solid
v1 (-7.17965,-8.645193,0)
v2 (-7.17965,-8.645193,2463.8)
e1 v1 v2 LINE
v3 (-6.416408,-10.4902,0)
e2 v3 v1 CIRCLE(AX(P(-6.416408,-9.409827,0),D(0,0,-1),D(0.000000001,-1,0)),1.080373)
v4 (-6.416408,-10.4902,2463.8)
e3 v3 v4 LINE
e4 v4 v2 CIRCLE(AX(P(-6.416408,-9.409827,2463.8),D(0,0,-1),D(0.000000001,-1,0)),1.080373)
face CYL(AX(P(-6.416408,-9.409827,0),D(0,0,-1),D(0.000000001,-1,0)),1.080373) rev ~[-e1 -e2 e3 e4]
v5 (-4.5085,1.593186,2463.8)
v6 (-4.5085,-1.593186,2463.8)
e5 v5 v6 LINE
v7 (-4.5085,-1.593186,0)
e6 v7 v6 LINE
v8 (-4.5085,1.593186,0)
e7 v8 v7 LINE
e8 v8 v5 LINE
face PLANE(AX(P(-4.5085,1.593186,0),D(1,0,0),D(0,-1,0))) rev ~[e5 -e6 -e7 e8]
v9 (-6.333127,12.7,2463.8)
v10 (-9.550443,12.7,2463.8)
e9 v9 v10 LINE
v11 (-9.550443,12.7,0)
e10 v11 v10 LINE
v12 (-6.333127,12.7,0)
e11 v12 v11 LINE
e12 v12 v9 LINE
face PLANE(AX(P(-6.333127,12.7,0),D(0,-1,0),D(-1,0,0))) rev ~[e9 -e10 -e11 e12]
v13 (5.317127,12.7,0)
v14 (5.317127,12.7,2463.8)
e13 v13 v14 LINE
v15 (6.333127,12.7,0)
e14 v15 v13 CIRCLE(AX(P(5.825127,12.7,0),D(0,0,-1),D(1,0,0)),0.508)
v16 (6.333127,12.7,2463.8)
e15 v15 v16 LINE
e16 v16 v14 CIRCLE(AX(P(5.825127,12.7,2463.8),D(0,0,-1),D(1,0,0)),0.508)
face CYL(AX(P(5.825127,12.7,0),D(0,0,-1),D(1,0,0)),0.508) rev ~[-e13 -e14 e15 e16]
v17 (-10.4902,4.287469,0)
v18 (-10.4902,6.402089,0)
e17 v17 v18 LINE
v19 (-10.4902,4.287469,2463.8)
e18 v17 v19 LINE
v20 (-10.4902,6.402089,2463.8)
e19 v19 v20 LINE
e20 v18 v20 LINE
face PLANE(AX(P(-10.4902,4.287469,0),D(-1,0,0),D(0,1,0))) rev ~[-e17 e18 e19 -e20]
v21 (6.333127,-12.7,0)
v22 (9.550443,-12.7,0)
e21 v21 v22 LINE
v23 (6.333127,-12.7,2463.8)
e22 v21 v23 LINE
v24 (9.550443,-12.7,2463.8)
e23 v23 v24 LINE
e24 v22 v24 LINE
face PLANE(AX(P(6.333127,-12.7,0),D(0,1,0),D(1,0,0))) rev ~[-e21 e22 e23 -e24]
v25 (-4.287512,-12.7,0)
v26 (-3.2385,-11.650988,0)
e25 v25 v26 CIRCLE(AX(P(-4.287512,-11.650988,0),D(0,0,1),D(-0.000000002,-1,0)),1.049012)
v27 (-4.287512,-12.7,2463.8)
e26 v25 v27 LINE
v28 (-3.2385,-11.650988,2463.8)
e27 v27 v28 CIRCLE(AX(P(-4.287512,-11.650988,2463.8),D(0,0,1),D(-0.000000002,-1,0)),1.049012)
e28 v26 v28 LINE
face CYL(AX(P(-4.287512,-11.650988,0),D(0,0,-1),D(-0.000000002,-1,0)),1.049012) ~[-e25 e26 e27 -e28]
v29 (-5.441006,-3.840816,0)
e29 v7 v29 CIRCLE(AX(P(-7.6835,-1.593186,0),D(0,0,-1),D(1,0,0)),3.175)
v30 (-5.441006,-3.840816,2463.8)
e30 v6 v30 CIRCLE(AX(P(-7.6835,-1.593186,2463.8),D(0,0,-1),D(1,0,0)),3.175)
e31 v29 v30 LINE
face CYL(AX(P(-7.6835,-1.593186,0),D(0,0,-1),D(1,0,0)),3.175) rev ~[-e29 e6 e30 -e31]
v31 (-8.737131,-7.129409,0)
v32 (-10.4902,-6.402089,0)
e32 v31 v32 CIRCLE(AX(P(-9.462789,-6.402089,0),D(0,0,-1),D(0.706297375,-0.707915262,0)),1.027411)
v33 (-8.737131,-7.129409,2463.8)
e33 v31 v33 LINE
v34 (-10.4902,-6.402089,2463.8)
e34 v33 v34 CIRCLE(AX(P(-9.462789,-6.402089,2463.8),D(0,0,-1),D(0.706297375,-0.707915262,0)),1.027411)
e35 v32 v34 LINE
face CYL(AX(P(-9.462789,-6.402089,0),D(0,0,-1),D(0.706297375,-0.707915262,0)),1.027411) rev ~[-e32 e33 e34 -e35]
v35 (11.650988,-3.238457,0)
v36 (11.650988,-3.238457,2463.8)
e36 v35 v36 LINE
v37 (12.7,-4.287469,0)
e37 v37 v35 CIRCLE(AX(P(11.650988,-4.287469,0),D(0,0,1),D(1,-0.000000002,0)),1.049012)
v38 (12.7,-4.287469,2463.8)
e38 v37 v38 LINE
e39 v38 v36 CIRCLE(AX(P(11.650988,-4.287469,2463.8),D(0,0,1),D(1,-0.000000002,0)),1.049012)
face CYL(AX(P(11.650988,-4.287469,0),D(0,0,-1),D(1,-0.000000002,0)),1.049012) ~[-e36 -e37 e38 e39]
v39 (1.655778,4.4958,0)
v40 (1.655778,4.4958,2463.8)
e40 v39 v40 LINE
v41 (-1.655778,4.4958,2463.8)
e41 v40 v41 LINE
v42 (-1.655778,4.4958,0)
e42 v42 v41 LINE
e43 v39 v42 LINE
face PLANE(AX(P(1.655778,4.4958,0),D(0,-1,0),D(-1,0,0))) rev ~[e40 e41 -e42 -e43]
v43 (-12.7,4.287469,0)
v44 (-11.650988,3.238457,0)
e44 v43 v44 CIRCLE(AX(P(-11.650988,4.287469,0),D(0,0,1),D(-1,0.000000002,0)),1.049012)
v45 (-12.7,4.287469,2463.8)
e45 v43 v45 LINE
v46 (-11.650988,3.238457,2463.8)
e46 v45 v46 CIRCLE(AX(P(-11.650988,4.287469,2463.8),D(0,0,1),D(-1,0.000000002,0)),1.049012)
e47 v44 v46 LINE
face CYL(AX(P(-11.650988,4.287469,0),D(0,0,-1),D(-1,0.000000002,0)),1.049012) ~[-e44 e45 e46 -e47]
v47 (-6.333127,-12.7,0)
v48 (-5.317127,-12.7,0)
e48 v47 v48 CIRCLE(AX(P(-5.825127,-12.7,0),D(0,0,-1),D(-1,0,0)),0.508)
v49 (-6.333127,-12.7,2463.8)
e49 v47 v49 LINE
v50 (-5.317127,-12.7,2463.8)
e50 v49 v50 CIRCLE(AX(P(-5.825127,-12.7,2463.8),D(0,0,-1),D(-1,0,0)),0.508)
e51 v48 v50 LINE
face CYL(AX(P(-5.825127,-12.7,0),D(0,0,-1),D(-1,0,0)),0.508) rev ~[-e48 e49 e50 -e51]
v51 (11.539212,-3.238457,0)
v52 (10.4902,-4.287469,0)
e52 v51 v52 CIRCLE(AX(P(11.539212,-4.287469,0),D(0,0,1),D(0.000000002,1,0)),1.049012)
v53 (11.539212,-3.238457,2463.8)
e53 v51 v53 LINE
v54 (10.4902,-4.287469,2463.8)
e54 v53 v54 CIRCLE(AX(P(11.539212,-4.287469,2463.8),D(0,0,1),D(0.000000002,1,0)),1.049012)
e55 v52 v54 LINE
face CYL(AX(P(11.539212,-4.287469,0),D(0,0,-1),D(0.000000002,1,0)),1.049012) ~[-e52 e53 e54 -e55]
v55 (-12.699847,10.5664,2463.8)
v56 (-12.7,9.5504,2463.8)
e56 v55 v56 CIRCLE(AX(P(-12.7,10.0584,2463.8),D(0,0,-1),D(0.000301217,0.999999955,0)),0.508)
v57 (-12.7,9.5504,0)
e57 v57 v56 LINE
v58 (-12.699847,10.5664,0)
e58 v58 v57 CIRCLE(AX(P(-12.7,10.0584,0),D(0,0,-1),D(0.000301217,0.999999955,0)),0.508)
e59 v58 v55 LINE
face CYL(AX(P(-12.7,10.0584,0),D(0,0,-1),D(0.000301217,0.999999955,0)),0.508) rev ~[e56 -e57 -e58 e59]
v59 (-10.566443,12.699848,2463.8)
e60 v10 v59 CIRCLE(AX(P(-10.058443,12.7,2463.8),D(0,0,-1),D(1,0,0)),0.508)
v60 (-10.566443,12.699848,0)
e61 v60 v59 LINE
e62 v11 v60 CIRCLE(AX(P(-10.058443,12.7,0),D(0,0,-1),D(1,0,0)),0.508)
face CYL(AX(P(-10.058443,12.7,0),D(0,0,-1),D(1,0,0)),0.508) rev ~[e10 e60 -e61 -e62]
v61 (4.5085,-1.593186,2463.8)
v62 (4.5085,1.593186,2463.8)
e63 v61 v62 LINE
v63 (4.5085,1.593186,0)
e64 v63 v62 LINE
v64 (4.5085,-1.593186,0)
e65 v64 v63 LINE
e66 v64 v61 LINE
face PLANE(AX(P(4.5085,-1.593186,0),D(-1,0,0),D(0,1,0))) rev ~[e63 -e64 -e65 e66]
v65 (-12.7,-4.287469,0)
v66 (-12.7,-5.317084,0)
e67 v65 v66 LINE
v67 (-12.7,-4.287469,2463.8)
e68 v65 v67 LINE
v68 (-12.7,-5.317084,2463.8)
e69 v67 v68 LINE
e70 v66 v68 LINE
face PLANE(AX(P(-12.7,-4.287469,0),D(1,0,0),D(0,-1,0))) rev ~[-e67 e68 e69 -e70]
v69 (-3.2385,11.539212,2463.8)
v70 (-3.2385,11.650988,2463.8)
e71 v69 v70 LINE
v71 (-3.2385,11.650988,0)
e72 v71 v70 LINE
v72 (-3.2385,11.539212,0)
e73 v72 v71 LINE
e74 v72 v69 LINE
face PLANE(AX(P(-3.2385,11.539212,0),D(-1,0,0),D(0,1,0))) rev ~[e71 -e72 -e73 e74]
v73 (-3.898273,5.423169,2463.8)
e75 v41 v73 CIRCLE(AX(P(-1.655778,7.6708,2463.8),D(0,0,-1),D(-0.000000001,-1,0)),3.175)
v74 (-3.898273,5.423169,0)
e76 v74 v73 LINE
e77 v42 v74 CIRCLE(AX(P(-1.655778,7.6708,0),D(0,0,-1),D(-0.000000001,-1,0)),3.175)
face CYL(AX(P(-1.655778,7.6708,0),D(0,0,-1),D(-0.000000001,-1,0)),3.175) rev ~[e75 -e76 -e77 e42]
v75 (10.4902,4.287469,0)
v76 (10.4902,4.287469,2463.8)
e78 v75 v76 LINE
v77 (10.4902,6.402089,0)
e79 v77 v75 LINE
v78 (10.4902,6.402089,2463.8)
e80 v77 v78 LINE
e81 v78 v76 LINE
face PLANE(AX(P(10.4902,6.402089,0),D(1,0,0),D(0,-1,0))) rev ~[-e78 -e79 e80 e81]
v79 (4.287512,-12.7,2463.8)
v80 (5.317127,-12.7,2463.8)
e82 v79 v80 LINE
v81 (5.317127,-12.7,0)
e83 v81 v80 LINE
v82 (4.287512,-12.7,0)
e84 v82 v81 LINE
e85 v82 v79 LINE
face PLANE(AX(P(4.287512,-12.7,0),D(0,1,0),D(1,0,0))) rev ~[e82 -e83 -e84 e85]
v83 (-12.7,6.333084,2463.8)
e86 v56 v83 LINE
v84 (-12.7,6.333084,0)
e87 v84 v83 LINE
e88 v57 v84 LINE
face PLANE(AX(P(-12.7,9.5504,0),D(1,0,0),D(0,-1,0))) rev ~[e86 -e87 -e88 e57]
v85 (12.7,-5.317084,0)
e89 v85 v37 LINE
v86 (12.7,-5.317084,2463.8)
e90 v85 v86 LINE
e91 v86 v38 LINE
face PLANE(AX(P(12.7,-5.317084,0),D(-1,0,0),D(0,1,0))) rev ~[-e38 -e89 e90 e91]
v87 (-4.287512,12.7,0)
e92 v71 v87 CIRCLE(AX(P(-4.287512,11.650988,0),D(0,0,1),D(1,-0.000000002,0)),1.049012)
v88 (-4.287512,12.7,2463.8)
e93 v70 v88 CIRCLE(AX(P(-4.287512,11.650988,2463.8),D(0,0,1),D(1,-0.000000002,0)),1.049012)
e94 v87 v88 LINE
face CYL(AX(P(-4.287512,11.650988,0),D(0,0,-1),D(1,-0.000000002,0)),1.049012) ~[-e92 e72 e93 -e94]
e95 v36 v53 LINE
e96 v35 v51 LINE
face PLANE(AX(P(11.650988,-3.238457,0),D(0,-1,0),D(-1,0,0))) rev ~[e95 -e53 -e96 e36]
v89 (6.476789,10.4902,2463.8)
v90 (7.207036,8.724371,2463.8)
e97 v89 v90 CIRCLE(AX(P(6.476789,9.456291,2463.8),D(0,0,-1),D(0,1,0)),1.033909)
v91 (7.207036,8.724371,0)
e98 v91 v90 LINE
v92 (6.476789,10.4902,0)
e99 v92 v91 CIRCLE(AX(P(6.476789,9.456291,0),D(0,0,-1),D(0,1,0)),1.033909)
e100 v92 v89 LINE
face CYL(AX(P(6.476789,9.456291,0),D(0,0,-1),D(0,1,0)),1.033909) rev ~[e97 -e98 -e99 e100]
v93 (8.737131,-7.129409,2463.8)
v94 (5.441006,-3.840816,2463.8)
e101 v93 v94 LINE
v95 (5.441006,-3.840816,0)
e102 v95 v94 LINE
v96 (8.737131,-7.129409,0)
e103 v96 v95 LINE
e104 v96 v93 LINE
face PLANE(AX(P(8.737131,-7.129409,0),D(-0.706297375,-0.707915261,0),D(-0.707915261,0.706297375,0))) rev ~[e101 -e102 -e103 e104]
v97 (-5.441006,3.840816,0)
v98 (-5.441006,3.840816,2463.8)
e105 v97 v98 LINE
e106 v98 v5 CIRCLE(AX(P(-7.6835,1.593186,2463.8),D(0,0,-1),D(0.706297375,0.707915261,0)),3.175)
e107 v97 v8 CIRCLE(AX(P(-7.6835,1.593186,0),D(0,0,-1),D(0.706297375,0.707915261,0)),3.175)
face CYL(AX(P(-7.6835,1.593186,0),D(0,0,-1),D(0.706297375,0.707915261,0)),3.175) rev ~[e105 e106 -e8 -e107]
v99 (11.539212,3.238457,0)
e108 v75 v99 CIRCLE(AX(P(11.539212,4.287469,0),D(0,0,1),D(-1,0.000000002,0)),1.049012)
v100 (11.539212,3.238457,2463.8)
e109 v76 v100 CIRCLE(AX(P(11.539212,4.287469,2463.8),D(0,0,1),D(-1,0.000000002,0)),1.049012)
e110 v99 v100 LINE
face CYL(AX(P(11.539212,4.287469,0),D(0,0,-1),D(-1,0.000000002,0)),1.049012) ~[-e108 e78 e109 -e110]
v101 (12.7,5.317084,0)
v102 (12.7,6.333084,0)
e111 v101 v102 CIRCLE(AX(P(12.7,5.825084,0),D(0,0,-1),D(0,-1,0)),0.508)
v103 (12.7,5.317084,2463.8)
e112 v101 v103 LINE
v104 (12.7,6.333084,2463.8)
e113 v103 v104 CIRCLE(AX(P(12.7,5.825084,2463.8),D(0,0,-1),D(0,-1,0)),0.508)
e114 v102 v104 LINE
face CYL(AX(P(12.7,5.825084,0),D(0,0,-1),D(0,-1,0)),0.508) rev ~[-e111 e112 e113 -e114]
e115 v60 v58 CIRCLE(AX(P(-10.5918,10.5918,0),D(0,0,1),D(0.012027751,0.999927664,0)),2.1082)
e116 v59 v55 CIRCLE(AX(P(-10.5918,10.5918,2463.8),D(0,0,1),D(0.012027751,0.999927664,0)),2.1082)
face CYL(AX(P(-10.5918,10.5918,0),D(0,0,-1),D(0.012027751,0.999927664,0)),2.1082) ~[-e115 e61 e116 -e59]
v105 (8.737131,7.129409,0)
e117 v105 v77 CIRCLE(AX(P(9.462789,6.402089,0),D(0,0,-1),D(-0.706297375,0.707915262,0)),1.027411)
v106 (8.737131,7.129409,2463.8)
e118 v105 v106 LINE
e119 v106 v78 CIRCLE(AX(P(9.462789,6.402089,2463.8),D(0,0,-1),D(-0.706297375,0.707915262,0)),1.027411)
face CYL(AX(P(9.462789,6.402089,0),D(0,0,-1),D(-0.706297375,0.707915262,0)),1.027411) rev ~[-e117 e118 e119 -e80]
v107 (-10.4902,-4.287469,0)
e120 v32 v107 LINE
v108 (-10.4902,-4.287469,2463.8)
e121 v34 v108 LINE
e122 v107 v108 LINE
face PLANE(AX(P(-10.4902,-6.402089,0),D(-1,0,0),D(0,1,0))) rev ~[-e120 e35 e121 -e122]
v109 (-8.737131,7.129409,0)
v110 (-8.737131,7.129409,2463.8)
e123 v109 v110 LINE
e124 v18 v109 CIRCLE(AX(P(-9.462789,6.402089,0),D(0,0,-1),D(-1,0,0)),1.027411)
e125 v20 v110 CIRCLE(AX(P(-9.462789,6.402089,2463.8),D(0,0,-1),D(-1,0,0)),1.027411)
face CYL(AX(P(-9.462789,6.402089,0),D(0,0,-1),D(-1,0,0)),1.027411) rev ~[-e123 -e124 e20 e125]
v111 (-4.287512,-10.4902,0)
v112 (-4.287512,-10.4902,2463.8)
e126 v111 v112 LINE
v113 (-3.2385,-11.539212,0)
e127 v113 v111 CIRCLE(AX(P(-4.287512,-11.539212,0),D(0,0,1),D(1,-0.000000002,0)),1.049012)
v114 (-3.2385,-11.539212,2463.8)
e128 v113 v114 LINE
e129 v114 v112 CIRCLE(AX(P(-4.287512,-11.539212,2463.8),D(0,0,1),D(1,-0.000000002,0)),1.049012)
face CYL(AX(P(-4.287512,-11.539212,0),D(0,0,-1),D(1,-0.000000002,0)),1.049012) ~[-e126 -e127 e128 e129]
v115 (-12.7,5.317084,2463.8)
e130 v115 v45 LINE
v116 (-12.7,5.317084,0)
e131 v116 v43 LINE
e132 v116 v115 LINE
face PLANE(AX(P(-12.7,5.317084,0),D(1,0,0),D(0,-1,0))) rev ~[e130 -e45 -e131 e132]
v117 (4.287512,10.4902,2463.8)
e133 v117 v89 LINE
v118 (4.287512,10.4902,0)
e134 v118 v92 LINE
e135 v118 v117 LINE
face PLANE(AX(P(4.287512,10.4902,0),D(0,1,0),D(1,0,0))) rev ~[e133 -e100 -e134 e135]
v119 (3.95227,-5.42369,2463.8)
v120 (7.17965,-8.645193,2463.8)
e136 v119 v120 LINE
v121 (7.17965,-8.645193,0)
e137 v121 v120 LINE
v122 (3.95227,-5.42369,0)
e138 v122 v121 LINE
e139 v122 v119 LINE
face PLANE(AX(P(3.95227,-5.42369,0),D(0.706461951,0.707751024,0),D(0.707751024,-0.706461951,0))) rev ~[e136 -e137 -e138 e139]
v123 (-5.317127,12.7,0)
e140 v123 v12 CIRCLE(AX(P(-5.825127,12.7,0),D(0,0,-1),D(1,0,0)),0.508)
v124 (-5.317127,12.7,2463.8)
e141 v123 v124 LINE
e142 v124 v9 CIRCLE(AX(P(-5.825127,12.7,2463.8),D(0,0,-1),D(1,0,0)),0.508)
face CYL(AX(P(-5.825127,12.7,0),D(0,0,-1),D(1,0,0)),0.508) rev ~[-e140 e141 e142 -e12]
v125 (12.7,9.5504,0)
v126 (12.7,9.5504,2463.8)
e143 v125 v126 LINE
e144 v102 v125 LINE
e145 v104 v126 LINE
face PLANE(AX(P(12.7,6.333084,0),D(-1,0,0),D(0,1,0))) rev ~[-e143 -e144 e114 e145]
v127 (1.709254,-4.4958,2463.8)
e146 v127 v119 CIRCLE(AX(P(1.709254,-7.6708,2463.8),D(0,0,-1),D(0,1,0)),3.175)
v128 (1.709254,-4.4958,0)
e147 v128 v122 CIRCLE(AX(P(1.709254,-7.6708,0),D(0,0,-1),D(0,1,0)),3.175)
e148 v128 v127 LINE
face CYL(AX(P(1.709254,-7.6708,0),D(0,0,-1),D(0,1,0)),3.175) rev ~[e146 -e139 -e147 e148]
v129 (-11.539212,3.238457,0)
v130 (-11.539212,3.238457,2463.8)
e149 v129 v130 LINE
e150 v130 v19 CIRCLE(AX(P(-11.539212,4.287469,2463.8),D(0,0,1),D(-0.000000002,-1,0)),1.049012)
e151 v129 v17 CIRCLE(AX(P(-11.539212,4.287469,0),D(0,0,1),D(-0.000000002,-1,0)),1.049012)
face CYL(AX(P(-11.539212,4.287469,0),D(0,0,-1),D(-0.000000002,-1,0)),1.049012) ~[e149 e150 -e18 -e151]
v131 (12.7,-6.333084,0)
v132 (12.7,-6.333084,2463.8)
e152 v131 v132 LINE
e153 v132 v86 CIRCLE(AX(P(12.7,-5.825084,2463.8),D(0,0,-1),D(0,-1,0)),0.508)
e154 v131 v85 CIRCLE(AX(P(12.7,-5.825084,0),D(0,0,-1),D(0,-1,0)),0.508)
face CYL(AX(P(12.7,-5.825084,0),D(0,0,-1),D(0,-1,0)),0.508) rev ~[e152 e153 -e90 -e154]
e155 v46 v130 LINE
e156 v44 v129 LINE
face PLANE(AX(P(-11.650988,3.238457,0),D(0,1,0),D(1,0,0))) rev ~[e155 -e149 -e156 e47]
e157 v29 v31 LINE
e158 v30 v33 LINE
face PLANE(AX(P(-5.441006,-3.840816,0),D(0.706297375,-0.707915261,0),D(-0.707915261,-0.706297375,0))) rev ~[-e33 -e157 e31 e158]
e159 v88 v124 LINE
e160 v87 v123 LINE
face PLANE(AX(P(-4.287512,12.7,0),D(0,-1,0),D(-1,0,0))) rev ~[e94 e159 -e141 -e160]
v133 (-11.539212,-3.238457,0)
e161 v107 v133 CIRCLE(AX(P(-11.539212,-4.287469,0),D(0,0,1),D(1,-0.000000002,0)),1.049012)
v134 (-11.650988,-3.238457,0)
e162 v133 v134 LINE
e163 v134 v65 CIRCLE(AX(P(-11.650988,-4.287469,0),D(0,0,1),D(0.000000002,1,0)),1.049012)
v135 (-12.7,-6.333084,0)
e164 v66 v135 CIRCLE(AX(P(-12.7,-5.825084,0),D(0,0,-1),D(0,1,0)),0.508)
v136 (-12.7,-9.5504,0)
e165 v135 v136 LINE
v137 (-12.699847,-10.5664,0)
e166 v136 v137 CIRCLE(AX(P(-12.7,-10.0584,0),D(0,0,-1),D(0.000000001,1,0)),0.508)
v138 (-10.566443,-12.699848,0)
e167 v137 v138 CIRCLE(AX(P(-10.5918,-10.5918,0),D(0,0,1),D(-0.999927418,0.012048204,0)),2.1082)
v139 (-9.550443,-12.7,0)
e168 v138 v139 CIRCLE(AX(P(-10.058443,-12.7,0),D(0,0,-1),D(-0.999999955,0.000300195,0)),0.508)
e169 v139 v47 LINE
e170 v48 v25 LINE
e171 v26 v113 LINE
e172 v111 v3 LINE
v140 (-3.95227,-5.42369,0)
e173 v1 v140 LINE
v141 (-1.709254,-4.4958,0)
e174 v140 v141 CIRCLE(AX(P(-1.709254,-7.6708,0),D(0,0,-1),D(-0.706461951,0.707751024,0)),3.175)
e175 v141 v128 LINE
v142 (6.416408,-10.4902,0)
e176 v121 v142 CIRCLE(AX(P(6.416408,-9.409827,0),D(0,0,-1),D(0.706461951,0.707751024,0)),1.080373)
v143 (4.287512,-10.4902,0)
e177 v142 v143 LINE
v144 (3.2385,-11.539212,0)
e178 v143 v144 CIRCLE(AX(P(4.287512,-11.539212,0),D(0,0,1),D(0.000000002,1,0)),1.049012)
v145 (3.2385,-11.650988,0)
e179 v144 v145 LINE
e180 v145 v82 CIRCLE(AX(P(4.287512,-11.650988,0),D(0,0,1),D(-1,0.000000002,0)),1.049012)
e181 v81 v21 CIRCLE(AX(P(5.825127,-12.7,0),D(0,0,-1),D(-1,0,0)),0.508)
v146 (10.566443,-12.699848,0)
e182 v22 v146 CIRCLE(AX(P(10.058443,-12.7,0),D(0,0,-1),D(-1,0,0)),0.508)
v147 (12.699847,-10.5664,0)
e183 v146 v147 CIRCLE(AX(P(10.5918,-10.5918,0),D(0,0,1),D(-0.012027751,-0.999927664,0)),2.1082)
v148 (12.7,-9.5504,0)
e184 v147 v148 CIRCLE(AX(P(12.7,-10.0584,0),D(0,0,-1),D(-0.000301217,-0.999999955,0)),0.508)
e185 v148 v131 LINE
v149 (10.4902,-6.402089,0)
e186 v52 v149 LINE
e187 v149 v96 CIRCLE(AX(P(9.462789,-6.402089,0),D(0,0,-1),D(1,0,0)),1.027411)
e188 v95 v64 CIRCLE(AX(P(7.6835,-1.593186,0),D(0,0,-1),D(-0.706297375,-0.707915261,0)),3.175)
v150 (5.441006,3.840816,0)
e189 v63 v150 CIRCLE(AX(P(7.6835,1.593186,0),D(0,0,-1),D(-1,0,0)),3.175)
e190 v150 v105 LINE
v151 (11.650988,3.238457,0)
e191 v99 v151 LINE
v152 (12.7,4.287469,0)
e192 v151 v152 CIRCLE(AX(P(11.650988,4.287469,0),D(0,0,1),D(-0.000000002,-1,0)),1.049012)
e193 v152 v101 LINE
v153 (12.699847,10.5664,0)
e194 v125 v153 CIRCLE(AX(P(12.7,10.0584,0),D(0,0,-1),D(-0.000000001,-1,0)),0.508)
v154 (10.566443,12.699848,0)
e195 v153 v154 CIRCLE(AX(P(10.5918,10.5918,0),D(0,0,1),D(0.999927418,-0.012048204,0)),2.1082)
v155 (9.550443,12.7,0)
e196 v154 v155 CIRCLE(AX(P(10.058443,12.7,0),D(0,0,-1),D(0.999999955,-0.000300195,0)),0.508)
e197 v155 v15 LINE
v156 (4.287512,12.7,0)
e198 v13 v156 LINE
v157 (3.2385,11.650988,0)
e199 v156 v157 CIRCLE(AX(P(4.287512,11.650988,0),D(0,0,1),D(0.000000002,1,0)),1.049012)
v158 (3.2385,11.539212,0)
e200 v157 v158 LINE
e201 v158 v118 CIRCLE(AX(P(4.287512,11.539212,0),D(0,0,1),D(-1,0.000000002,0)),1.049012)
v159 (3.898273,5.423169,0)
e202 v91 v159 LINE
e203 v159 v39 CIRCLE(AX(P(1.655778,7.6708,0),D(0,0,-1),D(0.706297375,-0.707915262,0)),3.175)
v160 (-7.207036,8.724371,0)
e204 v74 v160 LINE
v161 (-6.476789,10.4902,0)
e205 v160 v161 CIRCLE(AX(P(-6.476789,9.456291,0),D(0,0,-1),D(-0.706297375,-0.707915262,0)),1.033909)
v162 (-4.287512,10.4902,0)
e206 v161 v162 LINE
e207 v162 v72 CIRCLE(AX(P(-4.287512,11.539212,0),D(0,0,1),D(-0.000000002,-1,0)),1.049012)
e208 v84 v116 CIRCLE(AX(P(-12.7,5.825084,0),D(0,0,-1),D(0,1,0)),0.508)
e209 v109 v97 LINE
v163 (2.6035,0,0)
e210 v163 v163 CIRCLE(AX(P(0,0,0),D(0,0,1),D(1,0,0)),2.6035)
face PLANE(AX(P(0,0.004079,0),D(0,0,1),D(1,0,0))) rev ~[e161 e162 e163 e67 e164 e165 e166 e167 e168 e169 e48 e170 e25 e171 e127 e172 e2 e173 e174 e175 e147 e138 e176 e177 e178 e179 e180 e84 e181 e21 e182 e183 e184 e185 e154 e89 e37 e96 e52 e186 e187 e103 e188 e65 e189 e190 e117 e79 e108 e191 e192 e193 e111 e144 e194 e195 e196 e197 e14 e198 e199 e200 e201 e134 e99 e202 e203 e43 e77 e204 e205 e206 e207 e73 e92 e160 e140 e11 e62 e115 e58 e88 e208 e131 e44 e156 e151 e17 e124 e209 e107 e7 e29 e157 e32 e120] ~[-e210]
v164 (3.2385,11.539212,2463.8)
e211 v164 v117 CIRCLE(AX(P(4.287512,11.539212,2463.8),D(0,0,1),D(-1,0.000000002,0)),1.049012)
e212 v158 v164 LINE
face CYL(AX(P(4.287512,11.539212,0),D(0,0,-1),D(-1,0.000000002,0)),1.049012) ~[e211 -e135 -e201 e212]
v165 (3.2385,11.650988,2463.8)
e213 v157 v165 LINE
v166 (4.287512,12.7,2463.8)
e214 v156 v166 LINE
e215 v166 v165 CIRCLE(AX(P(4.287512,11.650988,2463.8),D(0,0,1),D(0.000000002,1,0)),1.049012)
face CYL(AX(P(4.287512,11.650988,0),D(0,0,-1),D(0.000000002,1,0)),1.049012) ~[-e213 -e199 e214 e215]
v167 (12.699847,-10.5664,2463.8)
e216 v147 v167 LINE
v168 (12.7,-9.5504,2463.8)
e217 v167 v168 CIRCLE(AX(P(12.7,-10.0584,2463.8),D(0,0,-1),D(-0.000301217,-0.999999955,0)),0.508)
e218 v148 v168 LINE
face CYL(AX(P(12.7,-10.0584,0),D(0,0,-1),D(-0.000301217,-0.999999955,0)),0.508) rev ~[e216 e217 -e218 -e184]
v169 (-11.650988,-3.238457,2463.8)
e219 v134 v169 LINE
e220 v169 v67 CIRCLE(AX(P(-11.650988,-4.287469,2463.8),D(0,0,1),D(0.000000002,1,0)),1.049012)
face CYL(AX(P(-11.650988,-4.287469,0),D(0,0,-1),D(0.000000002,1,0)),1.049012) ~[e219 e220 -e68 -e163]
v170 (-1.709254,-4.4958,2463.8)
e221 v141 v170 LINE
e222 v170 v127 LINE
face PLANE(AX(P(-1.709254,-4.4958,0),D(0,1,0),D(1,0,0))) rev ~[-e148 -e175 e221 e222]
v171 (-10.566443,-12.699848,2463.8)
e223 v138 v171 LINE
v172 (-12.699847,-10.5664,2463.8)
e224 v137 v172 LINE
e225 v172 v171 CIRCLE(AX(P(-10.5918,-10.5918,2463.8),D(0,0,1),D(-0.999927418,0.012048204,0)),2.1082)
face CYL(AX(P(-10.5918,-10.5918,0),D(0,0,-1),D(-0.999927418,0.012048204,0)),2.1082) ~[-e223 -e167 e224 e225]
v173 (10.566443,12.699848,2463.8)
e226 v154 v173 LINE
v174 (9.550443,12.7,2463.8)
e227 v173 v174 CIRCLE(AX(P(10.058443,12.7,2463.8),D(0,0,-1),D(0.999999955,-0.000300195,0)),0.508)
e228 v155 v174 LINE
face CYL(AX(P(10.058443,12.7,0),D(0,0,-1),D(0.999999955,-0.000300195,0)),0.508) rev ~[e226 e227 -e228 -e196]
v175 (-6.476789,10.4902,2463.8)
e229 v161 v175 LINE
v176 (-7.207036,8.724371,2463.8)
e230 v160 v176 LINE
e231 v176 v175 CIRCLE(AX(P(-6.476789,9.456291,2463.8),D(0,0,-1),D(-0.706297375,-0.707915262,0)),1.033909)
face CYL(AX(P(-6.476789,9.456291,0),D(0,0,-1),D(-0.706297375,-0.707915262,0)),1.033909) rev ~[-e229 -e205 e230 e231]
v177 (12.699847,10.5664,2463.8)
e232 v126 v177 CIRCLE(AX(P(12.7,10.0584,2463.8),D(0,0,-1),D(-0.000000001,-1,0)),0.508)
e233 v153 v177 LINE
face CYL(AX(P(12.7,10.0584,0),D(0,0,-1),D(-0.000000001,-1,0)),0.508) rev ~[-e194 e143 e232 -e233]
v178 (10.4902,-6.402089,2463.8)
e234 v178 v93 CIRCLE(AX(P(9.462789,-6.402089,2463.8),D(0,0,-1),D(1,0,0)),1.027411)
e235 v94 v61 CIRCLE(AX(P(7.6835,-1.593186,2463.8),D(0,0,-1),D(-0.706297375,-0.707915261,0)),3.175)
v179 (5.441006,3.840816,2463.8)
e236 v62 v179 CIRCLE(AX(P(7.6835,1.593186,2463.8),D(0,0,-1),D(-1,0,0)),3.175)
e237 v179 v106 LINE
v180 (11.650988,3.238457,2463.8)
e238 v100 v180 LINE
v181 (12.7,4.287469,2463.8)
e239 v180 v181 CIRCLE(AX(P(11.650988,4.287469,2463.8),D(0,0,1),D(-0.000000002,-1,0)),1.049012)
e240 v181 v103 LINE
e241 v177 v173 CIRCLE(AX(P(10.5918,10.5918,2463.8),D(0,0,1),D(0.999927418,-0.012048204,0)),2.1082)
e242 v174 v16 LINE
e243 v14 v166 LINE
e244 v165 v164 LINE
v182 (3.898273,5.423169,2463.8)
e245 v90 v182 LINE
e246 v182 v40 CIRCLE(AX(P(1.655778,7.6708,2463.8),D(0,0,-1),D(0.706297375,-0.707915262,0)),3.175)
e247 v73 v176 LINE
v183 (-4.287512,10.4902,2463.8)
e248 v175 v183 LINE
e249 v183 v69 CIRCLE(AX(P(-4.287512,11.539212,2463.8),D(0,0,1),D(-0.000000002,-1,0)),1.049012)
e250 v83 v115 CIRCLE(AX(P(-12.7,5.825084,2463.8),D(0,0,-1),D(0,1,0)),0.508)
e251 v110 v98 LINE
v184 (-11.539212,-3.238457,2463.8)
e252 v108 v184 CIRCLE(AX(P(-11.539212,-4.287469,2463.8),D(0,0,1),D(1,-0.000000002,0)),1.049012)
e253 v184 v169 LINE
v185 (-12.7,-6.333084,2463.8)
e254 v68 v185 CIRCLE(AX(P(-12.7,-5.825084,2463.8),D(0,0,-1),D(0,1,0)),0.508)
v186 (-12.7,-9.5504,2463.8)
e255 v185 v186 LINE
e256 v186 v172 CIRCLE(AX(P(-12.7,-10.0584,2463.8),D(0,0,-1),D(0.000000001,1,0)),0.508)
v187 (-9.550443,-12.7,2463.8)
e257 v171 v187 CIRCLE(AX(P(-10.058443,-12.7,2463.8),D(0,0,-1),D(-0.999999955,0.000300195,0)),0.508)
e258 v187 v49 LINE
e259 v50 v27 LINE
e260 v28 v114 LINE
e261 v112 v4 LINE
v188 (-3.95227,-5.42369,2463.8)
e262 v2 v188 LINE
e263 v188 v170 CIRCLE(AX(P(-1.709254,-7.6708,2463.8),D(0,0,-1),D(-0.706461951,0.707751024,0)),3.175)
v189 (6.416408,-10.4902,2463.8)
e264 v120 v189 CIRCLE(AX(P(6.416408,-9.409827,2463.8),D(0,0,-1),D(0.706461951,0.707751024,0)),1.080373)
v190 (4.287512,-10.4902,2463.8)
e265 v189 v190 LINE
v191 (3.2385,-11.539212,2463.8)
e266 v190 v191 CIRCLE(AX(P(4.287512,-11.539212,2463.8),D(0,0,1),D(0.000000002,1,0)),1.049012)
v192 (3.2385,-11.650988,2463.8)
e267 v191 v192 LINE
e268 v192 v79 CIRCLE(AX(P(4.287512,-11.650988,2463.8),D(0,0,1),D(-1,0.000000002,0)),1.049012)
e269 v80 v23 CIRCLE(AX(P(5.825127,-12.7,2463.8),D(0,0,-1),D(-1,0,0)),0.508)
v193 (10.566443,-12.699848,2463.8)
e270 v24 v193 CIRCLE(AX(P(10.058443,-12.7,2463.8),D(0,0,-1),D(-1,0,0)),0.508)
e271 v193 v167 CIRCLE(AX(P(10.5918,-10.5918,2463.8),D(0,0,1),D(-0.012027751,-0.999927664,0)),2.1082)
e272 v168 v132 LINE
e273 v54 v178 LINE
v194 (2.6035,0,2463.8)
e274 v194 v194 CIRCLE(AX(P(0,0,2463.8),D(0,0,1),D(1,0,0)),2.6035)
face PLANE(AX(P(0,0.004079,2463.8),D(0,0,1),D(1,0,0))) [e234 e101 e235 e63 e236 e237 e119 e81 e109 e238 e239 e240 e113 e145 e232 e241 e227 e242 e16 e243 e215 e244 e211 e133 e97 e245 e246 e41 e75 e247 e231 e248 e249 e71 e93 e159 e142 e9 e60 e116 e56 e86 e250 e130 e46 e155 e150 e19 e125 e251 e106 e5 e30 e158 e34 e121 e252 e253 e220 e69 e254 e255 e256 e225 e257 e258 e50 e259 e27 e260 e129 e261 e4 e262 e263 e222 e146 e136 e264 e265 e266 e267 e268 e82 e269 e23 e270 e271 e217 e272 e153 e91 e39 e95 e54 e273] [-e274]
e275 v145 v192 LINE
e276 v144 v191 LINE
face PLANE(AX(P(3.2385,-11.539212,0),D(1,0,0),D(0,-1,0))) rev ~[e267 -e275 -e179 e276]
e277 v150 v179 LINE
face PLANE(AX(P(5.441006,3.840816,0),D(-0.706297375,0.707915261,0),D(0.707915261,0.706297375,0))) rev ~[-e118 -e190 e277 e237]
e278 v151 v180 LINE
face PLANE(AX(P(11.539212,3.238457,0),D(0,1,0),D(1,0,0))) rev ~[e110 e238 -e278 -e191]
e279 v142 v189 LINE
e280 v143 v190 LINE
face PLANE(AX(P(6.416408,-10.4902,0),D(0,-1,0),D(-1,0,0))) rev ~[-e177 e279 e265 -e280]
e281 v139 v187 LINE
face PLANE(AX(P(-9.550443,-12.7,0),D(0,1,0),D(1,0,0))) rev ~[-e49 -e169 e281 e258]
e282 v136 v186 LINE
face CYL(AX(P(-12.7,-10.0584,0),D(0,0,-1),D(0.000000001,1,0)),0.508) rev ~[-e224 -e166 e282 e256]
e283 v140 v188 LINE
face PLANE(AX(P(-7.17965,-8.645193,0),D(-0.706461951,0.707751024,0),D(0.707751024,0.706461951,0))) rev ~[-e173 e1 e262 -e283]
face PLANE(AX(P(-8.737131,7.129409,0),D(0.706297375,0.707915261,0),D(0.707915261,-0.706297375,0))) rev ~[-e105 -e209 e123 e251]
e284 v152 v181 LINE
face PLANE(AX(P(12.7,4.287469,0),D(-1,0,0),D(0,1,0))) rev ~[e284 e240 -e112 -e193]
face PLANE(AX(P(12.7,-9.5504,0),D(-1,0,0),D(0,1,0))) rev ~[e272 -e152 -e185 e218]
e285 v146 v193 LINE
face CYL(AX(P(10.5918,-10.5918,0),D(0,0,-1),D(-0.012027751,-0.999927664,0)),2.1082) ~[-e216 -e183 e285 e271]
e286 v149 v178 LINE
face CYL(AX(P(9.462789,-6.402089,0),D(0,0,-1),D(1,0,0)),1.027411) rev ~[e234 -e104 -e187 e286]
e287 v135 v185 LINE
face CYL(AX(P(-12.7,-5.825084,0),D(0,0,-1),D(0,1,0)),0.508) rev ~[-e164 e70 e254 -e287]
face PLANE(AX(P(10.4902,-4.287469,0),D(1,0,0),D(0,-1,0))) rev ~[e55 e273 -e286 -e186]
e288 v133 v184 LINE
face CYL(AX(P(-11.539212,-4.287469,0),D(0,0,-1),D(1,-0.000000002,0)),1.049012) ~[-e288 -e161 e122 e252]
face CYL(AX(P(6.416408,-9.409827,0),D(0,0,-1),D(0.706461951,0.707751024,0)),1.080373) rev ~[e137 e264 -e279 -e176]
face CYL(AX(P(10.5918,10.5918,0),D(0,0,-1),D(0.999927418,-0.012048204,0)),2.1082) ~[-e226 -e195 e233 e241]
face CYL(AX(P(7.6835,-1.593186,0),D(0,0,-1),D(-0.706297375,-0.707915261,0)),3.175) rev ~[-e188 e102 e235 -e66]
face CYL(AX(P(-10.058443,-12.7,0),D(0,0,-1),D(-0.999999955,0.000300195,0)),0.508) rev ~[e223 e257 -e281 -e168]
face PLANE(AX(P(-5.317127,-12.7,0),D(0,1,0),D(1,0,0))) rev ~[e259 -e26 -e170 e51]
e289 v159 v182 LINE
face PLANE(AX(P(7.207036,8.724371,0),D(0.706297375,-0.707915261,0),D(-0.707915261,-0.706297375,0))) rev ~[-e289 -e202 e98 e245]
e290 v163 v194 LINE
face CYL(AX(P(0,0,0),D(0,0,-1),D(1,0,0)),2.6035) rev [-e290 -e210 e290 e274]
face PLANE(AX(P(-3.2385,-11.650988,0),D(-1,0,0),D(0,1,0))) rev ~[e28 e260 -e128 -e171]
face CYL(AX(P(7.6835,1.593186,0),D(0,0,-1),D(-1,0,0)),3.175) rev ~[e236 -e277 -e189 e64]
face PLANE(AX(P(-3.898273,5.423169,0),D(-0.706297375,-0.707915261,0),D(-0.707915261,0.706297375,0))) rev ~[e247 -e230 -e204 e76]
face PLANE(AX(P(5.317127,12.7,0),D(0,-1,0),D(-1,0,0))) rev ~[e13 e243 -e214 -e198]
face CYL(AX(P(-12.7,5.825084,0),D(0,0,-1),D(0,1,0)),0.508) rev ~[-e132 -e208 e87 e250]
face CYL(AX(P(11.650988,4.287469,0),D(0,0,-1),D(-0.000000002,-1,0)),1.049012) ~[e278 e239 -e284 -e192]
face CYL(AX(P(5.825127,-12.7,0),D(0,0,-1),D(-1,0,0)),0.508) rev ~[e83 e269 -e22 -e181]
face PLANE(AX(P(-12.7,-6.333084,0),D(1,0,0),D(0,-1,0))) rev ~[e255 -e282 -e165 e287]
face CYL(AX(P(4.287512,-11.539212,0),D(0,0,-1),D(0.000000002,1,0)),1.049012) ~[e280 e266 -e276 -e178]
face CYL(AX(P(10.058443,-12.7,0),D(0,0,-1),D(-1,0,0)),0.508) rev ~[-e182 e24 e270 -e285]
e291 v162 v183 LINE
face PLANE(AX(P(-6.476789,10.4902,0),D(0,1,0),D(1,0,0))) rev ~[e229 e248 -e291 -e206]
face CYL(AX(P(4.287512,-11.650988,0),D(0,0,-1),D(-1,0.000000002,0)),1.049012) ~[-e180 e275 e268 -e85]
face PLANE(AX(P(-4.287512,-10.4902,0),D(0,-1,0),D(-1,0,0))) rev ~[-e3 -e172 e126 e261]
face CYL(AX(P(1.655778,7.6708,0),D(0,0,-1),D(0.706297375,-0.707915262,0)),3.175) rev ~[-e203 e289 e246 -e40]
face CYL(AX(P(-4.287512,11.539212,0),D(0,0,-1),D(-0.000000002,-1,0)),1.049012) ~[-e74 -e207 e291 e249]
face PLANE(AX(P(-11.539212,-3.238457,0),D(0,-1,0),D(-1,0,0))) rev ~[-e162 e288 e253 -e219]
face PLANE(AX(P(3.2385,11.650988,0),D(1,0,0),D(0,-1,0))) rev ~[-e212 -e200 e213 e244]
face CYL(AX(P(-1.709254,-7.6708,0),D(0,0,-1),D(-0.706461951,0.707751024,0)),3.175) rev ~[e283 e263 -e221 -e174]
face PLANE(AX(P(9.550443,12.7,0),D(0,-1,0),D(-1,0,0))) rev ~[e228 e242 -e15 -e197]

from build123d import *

# Parameters (mm, degrees)
SKETCH1_R           = 2.6035
BOSS_EXTRUDE1_DEPTH = 2463.8


with BuildPart() as part:
    # Sketch1 → Boss-Extrude1 (new body)
    with BuildSketch(Plane.XY):
        with BuildLine():
            Line((-1.709253557, -4.4958), (1.709253557, -4.4958))
            ThreePointArc((1.709253557, -4.4958), (2.922936451, -4.736929036), (3.952270251, -5.423690499))
            Line((3.952270251, -5.423690499), (7.179650497, -8.645192506))
            ThreePointArc((7.179650497, -8.645192506), (7.41473083, -9.822813117), (6.416408329, -10.4902))
            Line((6.416408329, -10.4902), (4.287512407, -10.4902))
            ThreePointArc((4.287512407, -10.4902), (3.54574862, -10.79744862), (3.2385, -11.539212407))
            Line((3.2385, -11.539212407), (3.2385, -11.650987593))
            ThreePointArc((3.2385, -11.650987593), (3.54574862, -12.39275138), (4.287512407, -12.7))
            Line((4.287512407, -12.7), (5.317126718, -12.7))
            ThreePointArc((5.317126718, -12.7), (5.825126718, -12.192), (6.333126718, -12.7))
            Line((6.333126718, -12.7), (9.550443118, -12.7))
            ThreePointArc((9.550443118, -12.7), (10.058366869, -12.192000006), (10.566443095, -12.699847501))
            ThreePointArc((10.566443095, -12.699847501), (12.082537762, -12.08250727), (12.699846982, -10.566399977))
            ThreePointArc((12.699846982, -10.566399977), (12.192000006, -10.058323491), (12.7, -9.5504))
            Line((12.7, -9.5504), (12.7, -6.3330836))
            ThreePointArc((12.7, -6.3330836), (12.192, -5.8250836), (12.7, -5.3170836))
            Line((12.7, -5.3170836), (12.7, -4.287469289))
            ThreePointArc((12.7, -4.287469289), (12.39275138, -3.545705502), (11.650987593, -3.238456882))
            Line((11.650987593, -3.238456882), (11.539212407, -3.238456882))
            ThreePointArc((11.539212407, -3.238456882), (10.79744862, -3.545705502), (10.4902, -4.287469289))
            Line((10.4902, -4.287469289), (10.4902, -6.402089023))
            ThreePointArc((10.4902, -6.402089023), (9.856505071, -7.351067942), (8.737131347, -7.129408934))
            Line((8.737131347, -7.129408934), (5.441005833, -3.840816462))
            ThreePointArc((5.441005833, -3.840816462), (4.750877967, -2.809883091), (4.5085, -1.593185507))
            Line((4.5085, -1.593185507), (4.5085, 1.593185507))
            ThreePointArc((4.5085, 1.593185507), (4.750877967, 2.809883091), (5.441005833, 3.840816462))
            Line((5.441005833, 3.840816462), (8.737131347, 7.129408934))
            ThreePointArc((8.737131347, 7.129408934), (9.856505071, 7.351067942), (10.4902, 6.402089023))
            Line((10.4902, 6.402089023), (10.4902, 4.287469289))
            ThreePointArc((10.4902, 4.287469289), (10.79744862, 3.545705502), (11.539212407, 3.238456882))
            Line((11.539212407, 3.238456882), (11.650987593, 3.238456882))
            ThreePointArc((11.650987593, 3.238456882), (12.39275138, 3.545705502), (12.7, 4.287469289))
            Line((12.7, 4.287469289), (12.7, 5.3170836))
            ThreePointArc((12.7, 5.3170836), (12.192, 5.8250836), (12.7, 6.3330836))
            Line((12.7, 6.3330836), (12.7, 9.5504))
            ThreePointArc((12.7, 9.5504), (12.192000006, 10.058323491), (12.699846982, 10.566399977))
            ThreePointArc((12.699846982, 10.566399977), (12.082537762, 12.08250727), (10.566443095, 12.699847501))
            ThreePointArc((10.566443095, 12.699847501), (10.058366869, 12.192000006), (9.550443118, 12.7))
            Line((9.550443118, 12.7), (6.333126718, 12.7))
            ThreePointArc((6.333126718, 12.7), (5.825126718, 12.192), (5.317126718, 12.7))
            Line((5.317126718, 12.7), (4.287512407, 12.7))
            ThreePointArc((4.287512407, 12.7), (3.54574862, 12.39275138), (3.2385, 11.650987593))
            Line((3.2385, 11.650987593), (3.2385, 11.539212407))
            ThreePointArc((3.2385, 11.539212407), (3.54574862, 10.79744862), (4.287512407, 10.4902))
            Line((4.287512407, 10.4902), (6.476788598, 10.4902))
            ThreePointArc((6.476788598, 10.4902), (7.432222385, 9.85140422), (7.207036008, 8.724370562))
            Line((7.207036008, 8.724370562), (3.898272566, 5.423169045))
            ThreePointArc((3.898272566, 5.423169045), (2.869120213, 4.736787962), (1.655778399, 4.4958))
            Line((1.655778399, 4.4958), (-1.655778399, 4.4958))
            ThreePointArc((-1.655778399, 4.4958), (-2.869120213, 4.736787962), (-3.898272566, 5.423169045))
            Line((-3.898272566, 5.423169045), (-7.207036008, 8.724370562))
            ThreePointArc((-7.207036008, 8.724370562), (-7.432222385, 9.85140422), (-6.476788598, 10.4902))
            Line((-6.476788598, 10.4902), (-4.287512407, 10.4902))
            ThreePointArc((-4.287512407, 10.4902), (-3.54574862, 10.79744862), (-3.2385, 11.539212407))
            Line((-3.2385, 11.539212407), (-3.2385, 11.650987593))
            ThreePointArc((-3.2385, 11.650987593), (-3.54574862, 12.39275138), (-4.287512407, 12.7))
            Line((-4.287512407, 12.7), (-5.317126718, 12.7))
            ThreePointArc((-5.317126718, 12.7), (-5.825126718, 12.192), (-6.333126718, 12.7))
            Line((-6.333126718, 12.7), (-9.550443118, 12.7))
            ThreePointArc((-9.550443118, 12.7), (-10.058366869, 12.192000006), (-10.566443095, 12.699847501))
            ThreePointArc((-10.566443095, 12.699847501), (-12.082537762, 12.08250727), (-12.699846982, 10.566399977))
            ThreePointArc((-12.699846982, 10.566399977), (-12.192000006, 10.058323491), (-12.7, 9.5504))
            Line((-12.7, 9.5504), (-12.7, 6.3330836))
            ThreePointArc((-12.7, 6.3330836), (-12.192, 5.8250836), (-12.7, 5.3170836))
            Line((-12.7, 5.3170836), (-12.7, 4.287469289))
            ThreePointArc((-12.7, 4.287469289), (-12.39275138, 3.545705502), (-11.650987593, 3.238456882))
            Line((-11.650987593, 3.238456882), (-11.539212407, 3.238456882))
            ThreePointArc((-11.539212407, 3.238456882), (-10.79744862, 3.545705502), (-10.4902, 4.287469289))
            Line((-10.4902, 4.287469289), (-10.4902, 6.402089023))
            ThreePointArc((-10.4902, 6.402089023), (-9.856505071, 7.351067942), (-8.737131347, 7.129408934))
            Line((-8.737131347, 7.129408934), (-5.441005833, 3.840816462))
            ThreePointArc((-5.441005833, 3.840816462), (-4.750877967, 2.809883091), (-4.5085, 1.593185507))
            Line((-4.5085, 1.593185507), (-4.5085, -1.593185507))
            ThreePointArc((-4.5085, -1.593185507), (-4.750877967, -2.809883091), (-5.441005833, -3.840816462))
            Line((-5.441005833, -3.840816462), (-8.737131347, -7.129408934))
            ThreePointArc((-8.737131347, -7.129408934), (-9.856505071, -7.351067942), (-10.4902, -6.402089023))
            Line((-10.4902, -6.402089023), (-10.4902, -4.287469289))
            ThreePointArc((-10.4902, -4.287469289), (-10.79744862, -3.545705502), (-11.539212407, -3.238456882))
            Line((-11.539212407, -3.238456882), (-11.650987593, -3.238456882))
            ThreePointArc((-11.650987593, -3.238456882), (-12.39275138, -3.545705502), (-12.7, -4.287469289))
            Line((-12.7, -4.287469289), (-12.7, -5.3170836))
            ThreePointArc((-12.7, -5.3170836), (-12.192, -5.8250836), (-12.7, -6.3330836))
            Line((-12.7, -6.3330836), (-12.7, -9.5504))
            ThreePointArc((-12.7, -9.5504), (-12.192000006, -10.058323491), (-12.699846982, -10.566399977))
            ThreePointArc((-12.699846982, -10.566399977), (-12.082537762, -12.08250727), (-10.566443095, -12.699847501))
            ThreePointArc((-10.566443095, -12.699847501), (-10.058366869, -12.192000006), (-9.550443118, -12.7))
            Line((-9.550443118, -12.7), (-6.333126718, -12.7))
            ThreePointArc((-6.333126718, -12.7), (-5.825126718, -12.192), (-5.317126718, -12.7))
            Line((-5.317126718, -12.7), (-4.287512407, -12.7))
            ThreePointArc((-4.287512407, -12.7), (-3.54574862, -12.39275138), (-3.2385, -11.650987593))
            Line((-3.2385, -11.650987593), (-3.2385, -11.539212407))
            ThreePointArc((-3.2385, -11.539212407), (-3.54574862, -10.79744862), (-4.287512407, -10.4902))
            Line((-4.287512407, -10.4902), (-6.416408329, -10.4902))
            ThreePointArc((-6.416408329, -10.4902), (-7.41473083, -9.822813117), (-7.179650497, -8.645192506))
            Line((-7.179650497, -8.645192506), (-3.952270251, -5.423690499))
            ThreePointArc((-3.952270251, -5.423690499), (-2.922936451, -4.736929036), (-1.709253557, -4.4958))
        make_face()
        Circle(SKETCH1_R, mode=Mode.SUBTRACT)
    extrude(amount=BOSS_EXTRUDE1_DEPTH)


solid = part.part
